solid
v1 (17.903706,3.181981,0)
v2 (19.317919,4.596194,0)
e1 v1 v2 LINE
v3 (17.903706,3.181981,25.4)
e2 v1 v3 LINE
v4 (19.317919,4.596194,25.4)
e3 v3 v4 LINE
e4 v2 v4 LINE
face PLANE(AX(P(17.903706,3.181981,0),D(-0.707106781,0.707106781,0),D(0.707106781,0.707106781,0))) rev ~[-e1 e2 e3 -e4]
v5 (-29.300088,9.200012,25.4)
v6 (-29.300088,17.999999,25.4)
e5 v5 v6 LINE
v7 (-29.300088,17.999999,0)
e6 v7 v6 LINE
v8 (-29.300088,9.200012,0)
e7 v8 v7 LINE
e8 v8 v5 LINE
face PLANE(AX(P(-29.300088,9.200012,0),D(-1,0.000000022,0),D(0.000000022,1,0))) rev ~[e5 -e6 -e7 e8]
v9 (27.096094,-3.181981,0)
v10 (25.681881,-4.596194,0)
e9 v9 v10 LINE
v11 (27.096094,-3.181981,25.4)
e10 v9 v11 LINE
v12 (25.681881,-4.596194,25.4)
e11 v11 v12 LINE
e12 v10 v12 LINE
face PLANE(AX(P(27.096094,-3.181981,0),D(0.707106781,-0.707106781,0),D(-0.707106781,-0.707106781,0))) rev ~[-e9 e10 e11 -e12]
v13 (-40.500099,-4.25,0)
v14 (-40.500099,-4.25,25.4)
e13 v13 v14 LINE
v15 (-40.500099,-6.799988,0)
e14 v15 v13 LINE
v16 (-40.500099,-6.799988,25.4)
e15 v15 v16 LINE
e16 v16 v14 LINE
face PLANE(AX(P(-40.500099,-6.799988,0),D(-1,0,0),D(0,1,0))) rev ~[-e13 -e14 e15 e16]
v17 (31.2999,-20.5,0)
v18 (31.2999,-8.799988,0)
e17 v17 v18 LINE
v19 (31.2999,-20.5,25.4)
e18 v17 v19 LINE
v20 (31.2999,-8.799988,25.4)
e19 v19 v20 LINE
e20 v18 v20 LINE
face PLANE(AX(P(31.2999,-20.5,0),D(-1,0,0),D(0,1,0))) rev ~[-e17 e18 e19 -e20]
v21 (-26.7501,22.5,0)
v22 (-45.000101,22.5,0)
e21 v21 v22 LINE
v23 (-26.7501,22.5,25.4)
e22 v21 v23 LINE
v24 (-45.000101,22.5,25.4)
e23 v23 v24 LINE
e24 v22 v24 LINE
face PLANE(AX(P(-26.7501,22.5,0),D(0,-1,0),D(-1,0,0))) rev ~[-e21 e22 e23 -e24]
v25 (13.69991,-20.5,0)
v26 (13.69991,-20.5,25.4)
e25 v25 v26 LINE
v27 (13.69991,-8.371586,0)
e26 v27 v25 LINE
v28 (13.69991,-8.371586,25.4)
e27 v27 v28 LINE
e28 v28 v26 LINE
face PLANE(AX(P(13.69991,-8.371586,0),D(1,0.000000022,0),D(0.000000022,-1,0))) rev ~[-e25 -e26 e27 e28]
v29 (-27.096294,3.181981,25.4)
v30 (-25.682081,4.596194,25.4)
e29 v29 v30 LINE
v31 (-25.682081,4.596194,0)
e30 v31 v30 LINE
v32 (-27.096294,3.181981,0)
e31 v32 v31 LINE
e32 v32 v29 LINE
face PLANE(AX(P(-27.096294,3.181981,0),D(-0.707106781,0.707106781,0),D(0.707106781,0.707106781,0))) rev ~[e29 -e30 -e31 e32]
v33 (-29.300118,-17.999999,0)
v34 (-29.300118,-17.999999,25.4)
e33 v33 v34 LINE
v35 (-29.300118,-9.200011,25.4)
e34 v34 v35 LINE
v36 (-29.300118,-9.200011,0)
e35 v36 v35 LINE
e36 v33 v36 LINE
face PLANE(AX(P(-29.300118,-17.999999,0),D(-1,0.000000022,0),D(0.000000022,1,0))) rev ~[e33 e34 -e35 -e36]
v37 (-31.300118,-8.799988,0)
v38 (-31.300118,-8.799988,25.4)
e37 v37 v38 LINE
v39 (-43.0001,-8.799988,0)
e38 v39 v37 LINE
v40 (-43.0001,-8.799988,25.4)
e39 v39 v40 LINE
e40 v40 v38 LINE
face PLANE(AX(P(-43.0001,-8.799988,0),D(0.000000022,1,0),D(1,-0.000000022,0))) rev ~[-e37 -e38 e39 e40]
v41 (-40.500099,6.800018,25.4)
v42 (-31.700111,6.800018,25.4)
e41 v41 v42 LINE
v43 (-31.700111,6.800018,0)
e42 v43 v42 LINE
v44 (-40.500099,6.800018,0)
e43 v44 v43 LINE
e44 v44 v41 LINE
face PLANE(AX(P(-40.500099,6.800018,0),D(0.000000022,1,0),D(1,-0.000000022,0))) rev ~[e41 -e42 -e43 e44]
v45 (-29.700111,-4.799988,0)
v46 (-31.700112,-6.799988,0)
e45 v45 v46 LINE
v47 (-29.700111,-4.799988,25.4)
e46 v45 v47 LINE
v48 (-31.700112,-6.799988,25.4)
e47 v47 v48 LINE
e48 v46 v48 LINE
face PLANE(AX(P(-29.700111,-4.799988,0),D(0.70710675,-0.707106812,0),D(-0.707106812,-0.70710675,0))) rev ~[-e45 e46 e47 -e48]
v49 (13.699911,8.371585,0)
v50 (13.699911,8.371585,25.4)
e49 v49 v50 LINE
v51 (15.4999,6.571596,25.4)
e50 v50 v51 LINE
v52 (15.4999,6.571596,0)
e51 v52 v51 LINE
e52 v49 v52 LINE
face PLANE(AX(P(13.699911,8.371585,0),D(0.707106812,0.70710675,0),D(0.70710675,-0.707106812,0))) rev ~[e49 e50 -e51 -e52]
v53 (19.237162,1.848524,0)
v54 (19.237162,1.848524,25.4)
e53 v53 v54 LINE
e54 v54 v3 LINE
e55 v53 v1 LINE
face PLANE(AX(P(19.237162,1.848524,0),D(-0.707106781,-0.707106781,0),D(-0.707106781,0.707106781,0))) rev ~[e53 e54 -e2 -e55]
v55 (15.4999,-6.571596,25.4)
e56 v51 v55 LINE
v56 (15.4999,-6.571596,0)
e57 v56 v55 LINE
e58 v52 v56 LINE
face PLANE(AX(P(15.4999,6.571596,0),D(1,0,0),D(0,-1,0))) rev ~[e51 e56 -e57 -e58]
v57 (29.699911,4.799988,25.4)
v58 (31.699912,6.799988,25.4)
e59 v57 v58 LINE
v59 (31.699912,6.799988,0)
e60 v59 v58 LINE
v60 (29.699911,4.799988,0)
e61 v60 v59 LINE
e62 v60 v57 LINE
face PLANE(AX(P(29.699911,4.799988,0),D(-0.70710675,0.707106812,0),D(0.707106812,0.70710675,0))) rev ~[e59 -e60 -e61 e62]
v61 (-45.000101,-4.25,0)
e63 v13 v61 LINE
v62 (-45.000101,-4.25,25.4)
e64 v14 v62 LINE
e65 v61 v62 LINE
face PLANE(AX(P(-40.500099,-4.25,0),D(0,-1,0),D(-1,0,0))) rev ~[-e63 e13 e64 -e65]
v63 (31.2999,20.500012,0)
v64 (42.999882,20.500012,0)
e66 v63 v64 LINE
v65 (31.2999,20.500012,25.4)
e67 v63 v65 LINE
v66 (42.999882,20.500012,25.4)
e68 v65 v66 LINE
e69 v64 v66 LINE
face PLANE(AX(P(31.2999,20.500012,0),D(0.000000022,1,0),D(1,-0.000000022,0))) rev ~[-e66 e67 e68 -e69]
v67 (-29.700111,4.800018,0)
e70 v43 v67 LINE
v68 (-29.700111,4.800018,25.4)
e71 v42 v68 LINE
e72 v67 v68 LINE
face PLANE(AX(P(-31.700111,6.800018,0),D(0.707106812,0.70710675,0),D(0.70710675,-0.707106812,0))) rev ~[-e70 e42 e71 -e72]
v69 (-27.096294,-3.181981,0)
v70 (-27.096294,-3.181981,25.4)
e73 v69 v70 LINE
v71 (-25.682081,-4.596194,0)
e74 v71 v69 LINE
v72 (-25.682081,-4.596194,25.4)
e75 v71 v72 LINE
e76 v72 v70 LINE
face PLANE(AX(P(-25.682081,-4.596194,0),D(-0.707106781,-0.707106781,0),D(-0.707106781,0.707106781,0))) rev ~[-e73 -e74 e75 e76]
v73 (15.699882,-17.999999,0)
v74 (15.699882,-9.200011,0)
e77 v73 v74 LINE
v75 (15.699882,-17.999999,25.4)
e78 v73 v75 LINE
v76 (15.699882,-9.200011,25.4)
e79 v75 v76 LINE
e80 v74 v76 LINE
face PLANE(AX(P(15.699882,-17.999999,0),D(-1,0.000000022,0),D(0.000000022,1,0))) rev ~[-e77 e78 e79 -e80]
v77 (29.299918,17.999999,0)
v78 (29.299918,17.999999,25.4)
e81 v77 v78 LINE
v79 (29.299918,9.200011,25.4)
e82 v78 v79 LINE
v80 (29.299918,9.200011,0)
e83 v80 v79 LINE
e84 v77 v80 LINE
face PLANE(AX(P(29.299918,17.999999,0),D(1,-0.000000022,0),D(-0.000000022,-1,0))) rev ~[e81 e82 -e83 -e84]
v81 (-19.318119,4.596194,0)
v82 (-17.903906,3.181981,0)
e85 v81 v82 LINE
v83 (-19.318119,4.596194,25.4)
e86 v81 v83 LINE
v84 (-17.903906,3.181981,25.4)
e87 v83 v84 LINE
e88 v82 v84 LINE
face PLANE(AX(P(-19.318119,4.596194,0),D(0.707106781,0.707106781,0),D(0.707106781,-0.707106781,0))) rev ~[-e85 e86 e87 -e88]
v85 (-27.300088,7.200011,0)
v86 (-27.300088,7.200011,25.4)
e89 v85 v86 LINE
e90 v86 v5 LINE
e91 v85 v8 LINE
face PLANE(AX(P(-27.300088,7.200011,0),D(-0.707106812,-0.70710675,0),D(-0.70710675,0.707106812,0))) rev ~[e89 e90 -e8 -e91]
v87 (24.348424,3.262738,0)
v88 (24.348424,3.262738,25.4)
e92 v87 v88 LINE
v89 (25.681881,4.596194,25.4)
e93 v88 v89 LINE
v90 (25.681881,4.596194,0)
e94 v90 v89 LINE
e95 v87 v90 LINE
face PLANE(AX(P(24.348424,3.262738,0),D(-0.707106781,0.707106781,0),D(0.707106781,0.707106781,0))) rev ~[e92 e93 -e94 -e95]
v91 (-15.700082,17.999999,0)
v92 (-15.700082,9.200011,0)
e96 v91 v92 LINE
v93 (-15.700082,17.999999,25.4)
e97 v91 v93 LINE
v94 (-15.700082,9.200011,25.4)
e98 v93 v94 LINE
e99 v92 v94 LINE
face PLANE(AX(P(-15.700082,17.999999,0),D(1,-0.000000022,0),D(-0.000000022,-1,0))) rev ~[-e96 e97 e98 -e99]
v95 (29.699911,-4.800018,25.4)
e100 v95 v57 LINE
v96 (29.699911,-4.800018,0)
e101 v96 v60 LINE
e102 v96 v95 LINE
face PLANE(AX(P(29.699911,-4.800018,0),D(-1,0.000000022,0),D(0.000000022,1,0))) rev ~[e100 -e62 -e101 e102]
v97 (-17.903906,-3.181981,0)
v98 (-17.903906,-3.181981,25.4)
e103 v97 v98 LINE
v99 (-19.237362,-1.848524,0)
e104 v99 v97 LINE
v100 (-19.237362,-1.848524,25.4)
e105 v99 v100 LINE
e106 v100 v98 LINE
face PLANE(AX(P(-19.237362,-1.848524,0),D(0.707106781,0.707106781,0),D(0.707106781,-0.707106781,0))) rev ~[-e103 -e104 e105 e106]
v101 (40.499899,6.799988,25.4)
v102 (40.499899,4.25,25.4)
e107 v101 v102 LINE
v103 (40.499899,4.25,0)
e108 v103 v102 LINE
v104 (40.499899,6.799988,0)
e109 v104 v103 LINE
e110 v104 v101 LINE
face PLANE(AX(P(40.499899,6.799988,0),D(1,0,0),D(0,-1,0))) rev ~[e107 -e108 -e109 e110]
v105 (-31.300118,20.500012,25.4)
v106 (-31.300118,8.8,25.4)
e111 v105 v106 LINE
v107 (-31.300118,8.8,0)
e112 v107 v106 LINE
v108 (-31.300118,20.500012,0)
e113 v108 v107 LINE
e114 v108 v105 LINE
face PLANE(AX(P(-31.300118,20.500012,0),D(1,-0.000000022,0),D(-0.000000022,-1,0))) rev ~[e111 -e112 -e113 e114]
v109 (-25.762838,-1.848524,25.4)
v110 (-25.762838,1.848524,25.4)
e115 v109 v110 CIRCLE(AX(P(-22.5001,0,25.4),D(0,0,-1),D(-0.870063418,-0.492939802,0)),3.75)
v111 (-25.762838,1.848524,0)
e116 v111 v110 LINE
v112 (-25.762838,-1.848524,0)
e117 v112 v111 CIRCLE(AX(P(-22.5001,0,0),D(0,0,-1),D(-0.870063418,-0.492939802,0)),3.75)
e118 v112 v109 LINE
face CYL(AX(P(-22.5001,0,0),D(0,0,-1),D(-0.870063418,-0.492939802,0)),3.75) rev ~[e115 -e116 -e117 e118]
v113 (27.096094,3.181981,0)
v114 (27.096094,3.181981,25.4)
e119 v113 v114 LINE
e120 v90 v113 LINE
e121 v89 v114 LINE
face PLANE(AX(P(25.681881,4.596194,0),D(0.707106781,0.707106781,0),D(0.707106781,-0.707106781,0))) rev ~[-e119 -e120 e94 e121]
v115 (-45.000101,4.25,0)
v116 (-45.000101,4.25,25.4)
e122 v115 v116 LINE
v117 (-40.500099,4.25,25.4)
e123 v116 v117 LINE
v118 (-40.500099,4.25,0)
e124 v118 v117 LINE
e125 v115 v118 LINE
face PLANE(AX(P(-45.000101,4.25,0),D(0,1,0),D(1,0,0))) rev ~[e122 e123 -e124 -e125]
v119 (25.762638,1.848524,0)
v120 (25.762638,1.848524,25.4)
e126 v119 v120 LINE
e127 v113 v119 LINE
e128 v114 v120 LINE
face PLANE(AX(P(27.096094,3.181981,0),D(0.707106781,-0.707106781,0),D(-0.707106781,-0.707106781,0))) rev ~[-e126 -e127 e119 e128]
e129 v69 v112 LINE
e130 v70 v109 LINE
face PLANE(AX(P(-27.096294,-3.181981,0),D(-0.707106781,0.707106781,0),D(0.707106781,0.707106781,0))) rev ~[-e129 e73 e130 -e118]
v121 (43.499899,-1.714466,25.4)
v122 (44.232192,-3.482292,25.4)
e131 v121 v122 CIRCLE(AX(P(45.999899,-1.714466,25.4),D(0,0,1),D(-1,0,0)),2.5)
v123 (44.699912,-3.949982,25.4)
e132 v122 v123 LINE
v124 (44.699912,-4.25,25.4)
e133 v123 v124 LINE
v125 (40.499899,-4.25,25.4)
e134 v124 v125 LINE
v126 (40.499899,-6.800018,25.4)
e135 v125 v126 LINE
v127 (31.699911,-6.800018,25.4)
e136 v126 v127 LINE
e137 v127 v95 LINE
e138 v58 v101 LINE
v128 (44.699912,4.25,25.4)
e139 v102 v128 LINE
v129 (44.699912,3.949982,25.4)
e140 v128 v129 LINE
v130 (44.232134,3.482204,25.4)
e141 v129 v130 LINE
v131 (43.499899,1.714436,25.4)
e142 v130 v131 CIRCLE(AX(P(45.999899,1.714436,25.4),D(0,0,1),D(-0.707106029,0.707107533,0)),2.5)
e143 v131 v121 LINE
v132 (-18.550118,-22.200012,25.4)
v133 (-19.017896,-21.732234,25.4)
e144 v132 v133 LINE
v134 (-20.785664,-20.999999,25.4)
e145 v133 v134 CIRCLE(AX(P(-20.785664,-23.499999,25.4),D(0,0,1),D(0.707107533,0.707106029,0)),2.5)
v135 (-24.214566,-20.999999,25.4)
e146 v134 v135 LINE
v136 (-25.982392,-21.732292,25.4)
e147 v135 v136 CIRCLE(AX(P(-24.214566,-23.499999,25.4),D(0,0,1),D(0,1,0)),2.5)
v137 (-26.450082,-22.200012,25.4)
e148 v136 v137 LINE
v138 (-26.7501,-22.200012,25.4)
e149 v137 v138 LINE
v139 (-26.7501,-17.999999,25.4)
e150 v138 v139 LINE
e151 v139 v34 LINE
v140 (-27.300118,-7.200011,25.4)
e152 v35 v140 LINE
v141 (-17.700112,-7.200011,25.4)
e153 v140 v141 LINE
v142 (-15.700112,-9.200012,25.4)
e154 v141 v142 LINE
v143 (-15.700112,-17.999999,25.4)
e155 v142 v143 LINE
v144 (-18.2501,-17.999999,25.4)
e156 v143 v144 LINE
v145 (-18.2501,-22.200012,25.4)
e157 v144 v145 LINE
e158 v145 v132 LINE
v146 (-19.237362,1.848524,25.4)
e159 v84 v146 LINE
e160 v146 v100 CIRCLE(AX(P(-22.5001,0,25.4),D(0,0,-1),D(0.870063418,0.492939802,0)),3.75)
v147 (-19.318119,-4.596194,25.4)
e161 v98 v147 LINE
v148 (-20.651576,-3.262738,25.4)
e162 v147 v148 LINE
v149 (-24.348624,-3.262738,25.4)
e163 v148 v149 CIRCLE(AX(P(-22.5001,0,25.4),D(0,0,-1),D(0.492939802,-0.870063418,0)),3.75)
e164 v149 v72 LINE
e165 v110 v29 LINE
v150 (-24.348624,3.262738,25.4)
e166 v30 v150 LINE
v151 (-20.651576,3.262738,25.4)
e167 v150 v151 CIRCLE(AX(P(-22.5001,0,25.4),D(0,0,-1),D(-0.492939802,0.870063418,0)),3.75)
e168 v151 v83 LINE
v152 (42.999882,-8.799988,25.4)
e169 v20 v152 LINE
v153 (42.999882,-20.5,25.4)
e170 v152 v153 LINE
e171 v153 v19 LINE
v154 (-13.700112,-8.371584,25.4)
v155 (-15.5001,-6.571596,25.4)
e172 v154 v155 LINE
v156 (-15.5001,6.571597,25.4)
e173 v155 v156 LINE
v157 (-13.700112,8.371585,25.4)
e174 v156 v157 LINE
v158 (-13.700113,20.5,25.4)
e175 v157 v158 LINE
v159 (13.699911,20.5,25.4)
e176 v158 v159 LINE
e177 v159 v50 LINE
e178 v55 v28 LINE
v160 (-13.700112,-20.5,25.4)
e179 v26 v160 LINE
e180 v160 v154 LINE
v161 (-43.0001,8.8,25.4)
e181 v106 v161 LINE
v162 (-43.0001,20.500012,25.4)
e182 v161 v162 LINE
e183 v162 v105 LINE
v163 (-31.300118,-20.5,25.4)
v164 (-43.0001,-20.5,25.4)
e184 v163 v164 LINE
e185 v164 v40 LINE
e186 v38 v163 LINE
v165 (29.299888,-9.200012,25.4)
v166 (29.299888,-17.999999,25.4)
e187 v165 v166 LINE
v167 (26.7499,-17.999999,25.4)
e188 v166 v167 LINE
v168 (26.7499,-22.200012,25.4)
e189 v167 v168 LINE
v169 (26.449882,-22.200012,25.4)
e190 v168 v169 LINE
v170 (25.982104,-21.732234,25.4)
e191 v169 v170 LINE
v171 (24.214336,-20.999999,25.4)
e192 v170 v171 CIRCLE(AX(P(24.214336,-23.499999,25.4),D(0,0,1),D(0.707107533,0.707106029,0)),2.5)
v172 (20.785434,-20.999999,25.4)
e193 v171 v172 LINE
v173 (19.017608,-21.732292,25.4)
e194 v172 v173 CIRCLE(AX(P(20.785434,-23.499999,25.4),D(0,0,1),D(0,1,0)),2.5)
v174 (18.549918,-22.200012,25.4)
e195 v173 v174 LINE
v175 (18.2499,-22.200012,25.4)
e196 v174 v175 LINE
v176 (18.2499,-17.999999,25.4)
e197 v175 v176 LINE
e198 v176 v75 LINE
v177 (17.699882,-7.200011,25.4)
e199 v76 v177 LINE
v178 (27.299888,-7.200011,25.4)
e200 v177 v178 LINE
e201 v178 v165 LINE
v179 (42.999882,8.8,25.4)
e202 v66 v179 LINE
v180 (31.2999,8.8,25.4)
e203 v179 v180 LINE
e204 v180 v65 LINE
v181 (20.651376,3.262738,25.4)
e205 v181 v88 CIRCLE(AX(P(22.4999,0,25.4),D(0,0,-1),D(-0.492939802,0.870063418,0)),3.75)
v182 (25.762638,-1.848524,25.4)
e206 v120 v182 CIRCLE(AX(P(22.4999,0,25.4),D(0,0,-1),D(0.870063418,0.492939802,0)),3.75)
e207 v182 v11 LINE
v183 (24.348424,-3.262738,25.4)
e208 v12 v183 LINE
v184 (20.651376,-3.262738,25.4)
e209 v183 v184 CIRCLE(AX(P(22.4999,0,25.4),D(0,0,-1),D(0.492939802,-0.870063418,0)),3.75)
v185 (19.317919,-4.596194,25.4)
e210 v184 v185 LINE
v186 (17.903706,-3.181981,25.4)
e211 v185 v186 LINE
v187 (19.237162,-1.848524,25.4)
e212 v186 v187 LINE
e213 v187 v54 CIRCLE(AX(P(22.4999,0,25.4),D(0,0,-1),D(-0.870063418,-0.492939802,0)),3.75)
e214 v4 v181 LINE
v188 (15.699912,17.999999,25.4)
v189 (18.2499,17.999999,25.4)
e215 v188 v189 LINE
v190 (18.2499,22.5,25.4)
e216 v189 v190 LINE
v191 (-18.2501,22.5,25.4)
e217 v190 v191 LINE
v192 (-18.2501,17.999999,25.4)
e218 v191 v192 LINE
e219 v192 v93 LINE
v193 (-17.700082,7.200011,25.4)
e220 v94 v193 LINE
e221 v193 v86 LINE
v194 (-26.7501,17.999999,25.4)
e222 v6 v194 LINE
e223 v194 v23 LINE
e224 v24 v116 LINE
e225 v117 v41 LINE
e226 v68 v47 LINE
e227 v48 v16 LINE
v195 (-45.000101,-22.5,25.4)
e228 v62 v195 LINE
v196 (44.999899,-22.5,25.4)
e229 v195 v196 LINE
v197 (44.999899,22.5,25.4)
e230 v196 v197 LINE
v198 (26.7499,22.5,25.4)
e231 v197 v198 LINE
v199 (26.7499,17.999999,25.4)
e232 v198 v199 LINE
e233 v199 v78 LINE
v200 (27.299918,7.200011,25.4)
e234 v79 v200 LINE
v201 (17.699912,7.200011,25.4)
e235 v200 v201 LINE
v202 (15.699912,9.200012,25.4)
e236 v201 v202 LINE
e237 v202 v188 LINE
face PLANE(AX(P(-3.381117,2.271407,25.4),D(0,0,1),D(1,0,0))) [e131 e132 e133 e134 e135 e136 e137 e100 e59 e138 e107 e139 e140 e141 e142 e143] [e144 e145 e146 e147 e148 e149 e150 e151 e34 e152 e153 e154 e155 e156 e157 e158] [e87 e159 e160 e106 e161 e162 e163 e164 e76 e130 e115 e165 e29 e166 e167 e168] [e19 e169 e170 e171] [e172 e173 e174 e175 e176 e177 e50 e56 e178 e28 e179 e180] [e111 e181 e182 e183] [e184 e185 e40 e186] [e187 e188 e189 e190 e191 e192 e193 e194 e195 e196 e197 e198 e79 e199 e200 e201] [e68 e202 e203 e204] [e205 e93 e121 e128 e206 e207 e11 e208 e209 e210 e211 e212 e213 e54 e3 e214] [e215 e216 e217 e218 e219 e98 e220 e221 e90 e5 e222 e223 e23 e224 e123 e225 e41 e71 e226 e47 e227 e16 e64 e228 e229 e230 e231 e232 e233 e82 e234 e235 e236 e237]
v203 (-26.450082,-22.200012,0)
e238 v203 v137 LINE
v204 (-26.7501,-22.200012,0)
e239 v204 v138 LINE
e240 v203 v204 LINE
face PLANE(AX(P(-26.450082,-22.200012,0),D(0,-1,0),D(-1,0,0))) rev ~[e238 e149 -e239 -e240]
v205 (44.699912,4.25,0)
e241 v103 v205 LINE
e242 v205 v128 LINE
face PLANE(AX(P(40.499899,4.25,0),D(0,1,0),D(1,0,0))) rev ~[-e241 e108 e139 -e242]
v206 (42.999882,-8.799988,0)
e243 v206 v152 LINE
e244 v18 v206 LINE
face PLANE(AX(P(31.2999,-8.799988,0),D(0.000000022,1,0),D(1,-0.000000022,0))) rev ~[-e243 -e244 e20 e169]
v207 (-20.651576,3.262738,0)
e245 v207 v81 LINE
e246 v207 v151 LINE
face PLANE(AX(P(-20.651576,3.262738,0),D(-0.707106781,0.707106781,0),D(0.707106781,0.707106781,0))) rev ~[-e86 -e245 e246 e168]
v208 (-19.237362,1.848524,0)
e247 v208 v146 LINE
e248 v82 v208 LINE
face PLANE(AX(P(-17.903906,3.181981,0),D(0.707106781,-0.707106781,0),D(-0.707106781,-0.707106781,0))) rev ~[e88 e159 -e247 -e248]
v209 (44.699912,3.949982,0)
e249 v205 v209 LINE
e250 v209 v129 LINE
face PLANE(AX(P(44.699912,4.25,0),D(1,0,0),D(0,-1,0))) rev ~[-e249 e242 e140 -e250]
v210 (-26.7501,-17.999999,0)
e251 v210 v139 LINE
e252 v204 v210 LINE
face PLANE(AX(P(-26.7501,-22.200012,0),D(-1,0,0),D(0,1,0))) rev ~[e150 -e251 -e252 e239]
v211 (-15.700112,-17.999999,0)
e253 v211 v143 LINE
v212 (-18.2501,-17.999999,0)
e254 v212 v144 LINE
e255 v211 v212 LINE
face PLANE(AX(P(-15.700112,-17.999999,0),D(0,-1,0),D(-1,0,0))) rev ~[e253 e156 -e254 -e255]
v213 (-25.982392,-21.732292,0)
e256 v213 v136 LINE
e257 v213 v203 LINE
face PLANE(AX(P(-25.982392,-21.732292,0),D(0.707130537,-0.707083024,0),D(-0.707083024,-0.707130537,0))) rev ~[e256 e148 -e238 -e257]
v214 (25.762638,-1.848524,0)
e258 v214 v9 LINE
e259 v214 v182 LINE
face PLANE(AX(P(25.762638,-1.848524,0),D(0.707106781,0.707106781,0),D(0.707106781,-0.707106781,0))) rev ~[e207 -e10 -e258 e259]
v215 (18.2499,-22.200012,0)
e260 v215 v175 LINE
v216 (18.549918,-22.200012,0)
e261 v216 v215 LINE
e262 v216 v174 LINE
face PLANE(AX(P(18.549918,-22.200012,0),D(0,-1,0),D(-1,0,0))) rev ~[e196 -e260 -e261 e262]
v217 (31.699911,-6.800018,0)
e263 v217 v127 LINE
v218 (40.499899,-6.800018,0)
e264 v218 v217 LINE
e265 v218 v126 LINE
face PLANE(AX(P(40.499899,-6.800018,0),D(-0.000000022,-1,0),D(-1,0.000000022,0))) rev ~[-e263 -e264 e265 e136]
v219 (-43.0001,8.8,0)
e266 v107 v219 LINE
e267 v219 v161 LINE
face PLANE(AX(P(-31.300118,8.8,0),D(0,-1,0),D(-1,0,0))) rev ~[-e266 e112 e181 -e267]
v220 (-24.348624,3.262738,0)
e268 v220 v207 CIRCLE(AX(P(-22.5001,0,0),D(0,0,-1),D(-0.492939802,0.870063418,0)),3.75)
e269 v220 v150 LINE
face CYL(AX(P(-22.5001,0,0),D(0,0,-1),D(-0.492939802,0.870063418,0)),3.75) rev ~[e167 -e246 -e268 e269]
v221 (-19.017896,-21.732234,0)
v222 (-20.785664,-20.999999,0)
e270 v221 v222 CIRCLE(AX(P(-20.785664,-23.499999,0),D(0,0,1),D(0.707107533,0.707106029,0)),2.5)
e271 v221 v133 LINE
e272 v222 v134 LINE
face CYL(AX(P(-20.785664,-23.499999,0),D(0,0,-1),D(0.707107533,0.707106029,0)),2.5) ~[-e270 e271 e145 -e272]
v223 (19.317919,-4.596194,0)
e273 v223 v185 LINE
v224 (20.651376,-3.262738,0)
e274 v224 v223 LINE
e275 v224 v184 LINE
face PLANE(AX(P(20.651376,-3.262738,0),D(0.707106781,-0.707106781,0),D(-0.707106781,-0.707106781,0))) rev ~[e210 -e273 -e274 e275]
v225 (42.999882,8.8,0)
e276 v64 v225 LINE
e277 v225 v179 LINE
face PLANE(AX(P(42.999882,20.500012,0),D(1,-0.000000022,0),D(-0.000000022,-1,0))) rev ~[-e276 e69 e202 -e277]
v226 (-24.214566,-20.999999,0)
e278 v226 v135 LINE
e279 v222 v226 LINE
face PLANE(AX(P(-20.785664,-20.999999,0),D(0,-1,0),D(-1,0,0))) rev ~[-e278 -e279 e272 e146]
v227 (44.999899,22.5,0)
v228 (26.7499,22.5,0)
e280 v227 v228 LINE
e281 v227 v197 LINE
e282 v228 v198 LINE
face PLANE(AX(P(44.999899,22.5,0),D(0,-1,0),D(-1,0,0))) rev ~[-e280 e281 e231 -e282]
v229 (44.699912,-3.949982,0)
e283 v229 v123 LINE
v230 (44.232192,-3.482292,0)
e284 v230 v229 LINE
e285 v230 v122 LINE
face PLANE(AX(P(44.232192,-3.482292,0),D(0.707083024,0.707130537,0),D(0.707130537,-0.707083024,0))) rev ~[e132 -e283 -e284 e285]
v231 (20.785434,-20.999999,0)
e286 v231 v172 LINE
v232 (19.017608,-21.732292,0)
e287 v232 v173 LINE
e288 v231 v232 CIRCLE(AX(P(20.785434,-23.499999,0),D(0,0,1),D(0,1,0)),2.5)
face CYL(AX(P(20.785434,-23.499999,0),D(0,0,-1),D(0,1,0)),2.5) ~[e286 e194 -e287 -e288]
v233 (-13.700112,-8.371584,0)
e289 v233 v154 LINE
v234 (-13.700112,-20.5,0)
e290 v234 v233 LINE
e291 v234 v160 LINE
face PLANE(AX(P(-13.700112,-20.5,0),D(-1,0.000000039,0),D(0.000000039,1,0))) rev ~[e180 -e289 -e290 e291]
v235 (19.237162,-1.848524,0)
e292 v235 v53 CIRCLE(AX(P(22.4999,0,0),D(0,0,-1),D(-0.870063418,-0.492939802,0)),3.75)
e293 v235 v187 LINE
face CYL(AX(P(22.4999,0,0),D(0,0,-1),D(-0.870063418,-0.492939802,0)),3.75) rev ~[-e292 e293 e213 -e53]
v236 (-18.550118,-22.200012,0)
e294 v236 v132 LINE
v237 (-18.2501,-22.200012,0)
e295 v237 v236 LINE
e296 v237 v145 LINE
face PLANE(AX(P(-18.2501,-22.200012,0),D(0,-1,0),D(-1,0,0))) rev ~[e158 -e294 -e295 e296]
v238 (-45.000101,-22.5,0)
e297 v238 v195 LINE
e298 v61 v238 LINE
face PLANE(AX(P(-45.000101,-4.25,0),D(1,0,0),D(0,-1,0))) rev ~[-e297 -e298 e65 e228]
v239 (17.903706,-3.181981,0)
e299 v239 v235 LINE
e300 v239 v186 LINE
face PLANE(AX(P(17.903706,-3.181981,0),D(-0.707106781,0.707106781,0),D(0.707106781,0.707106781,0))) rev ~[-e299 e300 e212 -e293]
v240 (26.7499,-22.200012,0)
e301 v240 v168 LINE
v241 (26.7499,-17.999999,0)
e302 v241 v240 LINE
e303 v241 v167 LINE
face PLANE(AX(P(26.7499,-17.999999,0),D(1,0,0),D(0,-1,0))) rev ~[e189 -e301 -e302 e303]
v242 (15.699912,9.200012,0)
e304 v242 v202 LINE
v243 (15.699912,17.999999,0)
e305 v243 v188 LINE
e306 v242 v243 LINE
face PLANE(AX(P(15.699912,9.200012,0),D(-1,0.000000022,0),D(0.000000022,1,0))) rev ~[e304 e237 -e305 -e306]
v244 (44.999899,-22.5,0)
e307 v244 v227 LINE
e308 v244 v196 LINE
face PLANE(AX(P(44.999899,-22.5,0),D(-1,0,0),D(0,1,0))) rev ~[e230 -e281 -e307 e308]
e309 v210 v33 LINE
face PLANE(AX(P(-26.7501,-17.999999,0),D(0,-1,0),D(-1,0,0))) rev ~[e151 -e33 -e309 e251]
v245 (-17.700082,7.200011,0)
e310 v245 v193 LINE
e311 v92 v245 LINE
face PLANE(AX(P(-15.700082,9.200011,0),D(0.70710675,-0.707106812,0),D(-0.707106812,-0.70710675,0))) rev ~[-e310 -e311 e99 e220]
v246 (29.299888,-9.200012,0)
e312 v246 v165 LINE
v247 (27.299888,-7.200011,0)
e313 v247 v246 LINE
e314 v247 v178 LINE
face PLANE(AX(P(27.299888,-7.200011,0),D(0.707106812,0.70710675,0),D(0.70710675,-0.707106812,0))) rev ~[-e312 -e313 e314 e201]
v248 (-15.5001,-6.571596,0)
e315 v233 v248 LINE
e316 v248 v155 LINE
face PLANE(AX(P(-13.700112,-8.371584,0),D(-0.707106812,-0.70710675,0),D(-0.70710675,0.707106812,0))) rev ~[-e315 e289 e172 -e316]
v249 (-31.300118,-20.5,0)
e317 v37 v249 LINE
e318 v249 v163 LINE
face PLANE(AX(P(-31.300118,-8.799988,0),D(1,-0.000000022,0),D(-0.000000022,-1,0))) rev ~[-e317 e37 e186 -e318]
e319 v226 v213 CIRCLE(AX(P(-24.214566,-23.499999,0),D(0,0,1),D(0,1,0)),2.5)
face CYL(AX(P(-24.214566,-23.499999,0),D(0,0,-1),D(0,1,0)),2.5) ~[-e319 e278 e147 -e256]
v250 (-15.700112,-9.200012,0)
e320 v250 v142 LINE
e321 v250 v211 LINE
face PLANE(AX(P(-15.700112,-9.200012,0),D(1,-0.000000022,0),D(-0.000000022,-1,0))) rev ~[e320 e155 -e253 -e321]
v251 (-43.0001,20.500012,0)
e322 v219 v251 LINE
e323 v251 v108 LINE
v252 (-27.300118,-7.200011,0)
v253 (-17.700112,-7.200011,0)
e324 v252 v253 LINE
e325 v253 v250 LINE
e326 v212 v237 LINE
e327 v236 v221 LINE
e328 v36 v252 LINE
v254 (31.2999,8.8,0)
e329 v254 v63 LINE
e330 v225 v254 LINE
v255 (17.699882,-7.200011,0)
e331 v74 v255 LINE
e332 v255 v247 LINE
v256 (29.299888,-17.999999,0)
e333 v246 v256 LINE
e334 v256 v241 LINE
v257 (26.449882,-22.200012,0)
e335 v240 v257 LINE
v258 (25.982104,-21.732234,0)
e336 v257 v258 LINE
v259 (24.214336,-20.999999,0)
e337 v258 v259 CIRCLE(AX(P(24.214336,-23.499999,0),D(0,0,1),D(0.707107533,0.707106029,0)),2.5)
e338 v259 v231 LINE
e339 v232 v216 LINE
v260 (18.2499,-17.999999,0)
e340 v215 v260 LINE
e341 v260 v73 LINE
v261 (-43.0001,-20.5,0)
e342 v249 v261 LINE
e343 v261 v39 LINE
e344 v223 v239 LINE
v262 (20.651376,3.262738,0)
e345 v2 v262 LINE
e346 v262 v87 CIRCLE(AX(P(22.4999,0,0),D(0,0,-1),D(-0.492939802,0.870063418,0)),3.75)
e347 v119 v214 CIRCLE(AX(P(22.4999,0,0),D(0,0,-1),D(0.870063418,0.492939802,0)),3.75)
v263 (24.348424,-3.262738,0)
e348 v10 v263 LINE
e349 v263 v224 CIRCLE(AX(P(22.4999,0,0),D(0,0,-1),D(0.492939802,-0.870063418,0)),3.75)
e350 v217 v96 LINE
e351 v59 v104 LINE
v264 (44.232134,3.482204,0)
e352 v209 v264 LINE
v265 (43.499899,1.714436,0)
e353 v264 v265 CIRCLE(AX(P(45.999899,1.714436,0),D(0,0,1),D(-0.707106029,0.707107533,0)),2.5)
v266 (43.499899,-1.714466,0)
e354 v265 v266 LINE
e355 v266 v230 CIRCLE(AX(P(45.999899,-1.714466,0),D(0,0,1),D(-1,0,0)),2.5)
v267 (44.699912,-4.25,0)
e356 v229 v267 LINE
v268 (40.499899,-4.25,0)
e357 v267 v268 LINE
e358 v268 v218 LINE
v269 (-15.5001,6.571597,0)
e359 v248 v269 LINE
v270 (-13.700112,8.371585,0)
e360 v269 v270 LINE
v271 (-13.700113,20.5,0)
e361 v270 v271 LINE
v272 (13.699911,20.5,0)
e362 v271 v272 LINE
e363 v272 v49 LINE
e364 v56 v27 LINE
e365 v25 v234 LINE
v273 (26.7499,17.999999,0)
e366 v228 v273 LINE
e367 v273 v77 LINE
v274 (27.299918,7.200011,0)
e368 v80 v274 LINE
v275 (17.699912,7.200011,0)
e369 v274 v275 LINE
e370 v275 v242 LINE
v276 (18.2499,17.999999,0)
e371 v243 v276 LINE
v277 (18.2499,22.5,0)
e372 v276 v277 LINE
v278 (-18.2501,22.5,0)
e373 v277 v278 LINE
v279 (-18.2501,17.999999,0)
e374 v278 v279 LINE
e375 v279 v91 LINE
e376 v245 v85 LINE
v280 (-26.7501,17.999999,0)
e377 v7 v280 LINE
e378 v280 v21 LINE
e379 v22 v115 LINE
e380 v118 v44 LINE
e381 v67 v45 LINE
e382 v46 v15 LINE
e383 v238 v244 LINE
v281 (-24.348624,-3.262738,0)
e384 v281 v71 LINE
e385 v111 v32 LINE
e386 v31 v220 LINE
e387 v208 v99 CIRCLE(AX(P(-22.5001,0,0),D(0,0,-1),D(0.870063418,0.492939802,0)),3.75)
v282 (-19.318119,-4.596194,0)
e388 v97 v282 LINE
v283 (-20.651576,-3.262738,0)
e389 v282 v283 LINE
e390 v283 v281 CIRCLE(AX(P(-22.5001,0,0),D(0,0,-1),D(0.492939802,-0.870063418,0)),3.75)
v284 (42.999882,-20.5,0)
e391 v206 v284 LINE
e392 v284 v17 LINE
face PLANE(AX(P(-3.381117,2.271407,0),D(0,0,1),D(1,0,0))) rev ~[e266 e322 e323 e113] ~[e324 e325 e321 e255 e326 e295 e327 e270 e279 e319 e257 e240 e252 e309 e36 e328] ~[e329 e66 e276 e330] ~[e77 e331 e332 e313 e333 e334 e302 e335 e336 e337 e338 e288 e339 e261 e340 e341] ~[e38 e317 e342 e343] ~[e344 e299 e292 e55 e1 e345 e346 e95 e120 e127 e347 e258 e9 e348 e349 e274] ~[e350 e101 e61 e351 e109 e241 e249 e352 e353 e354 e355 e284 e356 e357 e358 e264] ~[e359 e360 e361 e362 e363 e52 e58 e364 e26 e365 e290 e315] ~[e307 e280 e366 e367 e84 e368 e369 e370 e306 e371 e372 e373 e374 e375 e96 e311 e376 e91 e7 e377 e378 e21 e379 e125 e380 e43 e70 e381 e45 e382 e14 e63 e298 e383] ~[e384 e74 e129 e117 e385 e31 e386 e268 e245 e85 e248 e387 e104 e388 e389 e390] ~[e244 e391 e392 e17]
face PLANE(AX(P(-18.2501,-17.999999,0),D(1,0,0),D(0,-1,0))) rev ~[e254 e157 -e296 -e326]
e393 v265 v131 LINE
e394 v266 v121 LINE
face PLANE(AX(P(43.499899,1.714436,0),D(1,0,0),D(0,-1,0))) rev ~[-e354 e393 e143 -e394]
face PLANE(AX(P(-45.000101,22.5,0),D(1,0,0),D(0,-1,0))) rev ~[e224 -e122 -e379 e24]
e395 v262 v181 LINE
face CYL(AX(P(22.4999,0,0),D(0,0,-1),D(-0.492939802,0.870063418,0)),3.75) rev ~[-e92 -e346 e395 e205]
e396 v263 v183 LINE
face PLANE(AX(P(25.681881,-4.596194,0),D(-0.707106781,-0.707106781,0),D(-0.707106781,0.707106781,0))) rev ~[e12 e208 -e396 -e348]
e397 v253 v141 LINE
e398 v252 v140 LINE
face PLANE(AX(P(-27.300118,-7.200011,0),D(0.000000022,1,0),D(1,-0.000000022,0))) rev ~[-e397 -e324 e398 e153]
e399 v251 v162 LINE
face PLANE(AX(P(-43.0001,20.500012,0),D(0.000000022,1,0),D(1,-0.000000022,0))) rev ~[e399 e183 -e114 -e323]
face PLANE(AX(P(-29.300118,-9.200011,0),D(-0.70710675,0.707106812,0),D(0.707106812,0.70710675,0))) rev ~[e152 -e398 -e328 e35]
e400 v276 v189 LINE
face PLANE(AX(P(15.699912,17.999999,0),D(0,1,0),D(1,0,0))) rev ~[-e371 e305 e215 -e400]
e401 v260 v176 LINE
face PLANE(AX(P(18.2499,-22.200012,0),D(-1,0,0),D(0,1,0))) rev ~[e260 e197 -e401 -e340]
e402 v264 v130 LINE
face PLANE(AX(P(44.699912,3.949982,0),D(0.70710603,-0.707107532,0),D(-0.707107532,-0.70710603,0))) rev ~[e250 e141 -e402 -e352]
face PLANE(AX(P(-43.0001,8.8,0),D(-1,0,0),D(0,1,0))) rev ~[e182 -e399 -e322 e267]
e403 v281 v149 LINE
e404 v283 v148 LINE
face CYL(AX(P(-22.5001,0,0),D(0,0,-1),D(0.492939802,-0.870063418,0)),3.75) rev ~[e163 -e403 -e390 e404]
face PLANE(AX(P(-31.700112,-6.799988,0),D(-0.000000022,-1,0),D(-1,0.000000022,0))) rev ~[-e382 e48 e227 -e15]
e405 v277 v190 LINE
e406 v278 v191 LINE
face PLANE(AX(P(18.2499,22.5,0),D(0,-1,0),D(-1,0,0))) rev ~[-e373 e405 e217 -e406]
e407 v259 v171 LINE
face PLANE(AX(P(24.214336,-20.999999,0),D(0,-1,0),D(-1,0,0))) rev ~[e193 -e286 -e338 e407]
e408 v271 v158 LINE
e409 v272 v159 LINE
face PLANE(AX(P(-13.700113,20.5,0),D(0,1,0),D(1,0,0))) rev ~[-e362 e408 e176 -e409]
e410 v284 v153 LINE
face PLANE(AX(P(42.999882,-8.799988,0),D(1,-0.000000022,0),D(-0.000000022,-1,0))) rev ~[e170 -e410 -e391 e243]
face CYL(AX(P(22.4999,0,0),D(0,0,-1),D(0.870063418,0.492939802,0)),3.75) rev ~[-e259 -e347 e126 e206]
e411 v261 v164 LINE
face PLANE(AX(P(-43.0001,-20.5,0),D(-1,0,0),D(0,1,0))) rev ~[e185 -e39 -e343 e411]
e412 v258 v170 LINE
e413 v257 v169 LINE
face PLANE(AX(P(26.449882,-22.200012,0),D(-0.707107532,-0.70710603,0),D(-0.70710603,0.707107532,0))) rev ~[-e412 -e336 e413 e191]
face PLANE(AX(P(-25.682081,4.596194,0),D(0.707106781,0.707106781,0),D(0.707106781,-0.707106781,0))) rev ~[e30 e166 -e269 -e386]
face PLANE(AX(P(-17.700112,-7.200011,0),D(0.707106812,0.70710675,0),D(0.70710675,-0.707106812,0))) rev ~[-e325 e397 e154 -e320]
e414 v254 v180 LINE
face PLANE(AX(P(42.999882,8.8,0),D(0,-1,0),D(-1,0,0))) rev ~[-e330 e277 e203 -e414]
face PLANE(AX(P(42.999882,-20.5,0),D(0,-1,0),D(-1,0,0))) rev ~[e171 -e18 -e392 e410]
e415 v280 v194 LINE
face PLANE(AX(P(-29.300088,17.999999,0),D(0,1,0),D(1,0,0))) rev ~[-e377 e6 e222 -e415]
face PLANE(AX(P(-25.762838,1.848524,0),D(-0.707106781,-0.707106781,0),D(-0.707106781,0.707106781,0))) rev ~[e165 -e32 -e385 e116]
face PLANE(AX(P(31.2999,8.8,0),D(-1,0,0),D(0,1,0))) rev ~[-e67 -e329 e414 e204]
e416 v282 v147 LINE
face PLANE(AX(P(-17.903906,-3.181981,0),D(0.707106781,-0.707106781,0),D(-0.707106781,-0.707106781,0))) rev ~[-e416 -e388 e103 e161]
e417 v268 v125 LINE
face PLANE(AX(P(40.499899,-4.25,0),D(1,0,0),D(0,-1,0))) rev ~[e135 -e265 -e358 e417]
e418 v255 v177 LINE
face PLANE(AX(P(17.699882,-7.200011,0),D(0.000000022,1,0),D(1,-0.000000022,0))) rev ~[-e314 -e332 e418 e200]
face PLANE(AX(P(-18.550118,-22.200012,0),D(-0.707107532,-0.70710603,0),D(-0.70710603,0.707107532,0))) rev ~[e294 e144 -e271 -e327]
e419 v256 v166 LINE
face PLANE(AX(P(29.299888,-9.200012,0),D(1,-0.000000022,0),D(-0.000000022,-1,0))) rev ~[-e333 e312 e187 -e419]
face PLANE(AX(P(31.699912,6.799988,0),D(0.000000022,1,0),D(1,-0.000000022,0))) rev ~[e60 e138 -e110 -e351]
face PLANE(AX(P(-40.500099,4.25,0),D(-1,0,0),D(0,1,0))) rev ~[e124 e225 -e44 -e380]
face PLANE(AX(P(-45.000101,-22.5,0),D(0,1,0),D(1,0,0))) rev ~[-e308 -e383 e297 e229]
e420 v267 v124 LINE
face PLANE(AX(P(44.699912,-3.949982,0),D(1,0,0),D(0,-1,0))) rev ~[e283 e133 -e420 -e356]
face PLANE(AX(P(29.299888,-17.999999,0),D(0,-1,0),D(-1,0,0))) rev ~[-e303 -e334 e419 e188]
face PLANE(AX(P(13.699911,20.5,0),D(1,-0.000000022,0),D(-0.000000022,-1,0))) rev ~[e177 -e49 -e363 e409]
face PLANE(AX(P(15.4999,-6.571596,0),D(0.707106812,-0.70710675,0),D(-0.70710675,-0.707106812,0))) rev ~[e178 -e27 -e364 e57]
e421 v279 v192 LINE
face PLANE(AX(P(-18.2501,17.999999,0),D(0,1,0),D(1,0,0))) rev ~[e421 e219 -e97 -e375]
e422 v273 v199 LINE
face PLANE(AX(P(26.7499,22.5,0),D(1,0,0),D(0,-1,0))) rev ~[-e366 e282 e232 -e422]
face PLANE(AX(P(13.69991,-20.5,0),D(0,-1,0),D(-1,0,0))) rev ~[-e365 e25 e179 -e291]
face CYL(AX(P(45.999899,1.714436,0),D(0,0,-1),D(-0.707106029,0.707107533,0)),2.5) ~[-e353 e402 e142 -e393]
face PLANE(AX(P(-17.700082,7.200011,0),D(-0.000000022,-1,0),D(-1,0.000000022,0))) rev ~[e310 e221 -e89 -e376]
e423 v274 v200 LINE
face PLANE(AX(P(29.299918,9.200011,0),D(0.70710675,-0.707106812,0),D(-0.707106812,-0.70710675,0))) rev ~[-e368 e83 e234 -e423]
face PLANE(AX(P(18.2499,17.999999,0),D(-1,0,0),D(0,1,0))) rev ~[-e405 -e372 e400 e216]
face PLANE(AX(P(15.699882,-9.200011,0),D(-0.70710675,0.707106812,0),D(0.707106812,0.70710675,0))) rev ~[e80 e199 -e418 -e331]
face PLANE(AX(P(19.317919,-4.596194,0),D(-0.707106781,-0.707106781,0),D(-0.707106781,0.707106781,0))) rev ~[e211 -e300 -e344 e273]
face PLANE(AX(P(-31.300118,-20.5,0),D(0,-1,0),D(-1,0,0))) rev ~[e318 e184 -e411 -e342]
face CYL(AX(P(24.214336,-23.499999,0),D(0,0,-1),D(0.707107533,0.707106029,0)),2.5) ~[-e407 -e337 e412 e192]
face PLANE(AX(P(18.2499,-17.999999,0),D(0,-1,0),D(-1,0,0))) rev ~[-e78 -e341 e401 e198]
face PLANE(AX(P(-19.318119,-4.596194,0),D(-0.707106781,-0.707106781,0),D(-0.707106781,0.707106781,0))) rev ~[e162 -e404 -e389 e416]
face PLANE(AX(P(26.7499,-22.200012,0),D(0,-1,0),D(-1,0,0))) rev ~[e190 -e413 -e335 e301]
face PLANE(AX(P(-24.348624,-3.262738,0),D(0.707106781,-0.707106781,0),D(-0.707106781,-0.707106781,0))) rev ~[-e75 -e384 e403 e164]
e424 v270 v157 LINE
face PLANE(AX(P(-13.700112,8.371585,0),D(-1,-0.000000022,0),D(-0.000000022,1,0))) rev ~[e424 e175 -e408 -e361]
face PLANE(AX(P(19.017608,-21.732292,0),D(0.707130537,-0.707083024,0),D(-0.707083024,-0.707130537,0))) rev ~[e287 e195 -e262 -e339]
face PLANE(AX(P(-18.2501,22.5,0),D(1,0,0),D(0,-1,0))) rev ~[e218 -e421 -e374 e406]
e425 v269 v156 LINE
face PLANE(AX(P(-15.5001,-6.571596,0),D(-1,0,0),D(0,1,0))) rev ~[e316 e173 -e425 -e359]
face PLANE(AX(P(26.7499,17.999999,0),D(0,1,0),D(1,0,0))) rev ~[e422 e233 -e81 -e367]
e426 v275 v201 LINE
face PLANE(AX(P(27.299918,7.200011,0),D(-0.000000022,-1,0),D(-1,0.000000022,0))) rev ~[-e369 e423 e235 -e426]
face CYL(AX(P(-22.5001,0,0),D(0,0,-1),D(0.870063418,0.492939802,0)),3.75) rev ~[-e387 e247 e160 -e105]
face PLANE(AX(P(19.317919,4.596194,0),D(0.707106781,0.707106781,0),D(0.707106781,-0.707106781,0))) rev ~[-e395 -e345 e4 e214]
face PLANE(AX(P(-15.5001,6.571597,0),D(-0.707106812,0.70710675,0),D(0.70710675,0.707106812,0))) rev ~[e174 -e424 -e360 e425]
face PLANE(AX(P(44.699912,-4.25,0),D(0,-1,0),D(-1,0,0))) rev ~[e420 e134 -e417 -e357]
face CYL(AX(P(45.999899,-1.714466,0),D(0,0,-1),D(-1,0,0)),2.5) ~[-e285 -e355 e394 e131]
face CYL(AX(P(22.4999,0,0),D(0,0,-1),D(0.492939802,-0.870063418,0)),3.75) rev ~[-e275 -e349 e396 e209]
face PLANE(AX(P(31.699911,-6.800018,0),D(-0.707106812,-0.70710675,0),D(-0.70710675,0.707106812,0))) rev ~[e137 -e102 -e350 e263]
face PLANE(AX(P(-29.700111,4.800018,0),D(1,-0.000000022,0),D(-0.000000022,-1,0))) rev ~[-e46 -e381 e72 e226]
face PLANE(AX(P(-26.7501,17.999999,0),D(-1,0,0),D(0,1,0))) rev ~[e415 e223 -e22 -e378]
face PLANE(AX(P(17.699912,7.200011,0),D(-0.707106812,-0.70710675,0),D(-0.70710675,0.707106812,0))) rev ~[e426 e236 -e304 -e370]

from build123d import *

# Parameters (mm, degrees)
BOSS_EXTRUDE1_DEPTH = 25.4


with BuildPart() as part:
    # Sketch1 → Boss-Extrude1 (new body)
    with BuildSketch(Plane.XY):
        Polygon((-45.000100804, -22.499999999), (44.999899202, -22.499999999), (44.999899202, 22.5), (26.749899972, 22.5), (26.749899972, 17.999999372), (29.299918194, 17.999999372), (29.299918002, 9.200011166), (27.299917722, 7.200011061), (17.699911829, 7.200011271), (15.699911706, 9.200011568), (15.699911899, 17.999999102), (18.249899884, 17.999999102), (18.249899884, 22.5), (-18.250100028, 22.5), (-18.250100028, 17.999999372), (-15.700081806, 17.999999372), (-15.700081998, 9.200011166), (-17.700082278, 7.200011061), (-27.300088171, 7.200011271), (-29.300088294, 9.200011568), (-29.300088101, 17.999999102), (-26.750100116, 17.999999102), (-26.750100116, 22.5), (-45.000100804, 22.5), (-45.000100804, 4.250000064), (-40.500099403, 4.250000064), (-40.500099403, 6.800018286), (-31.700111197, 6.800018094), (-29.700111092, 4.800017814), (-29.700111302, -4.79998808), (-31.700111599, -6.799988202), (-40.500099133, -6.79998801), (-40.500099133, -4.250000024), (-45.000100804, -4.250000024), align=None)
        with BuildLine():
            Line((19.237162182, 1.848524255), (17.903705922, 3.181980515))
            Line((17.903705922, 3.181980515), (19.317919485, 4.596194078))
            Line((19.317919485, 4.596194078), (20.651375745, 3.262737818))
            ThreePointArc((20.651375745, 3.262737818), (22.4999, 3.749999999), (24.348424255, 3.262737818))
            Line((24.348424255, 3.262737818), (25.681880515, 4.596194078))
            Line((25.681880515, 4.596194078), (27.096094078, 3.181980515))
            Line((27.096094078, 3.181980515), (25.762637818, 1.848524255))
            ThreePointArc((25.762637818, 1.848524255), (26.249899999, 0), (25.762637818, -1.848524255))
            Line((25.762637818, -1.848524255), (27.096094078, -3.181980515))
            Line((27.096094078, -3.181980515), (25.681880515, -4.596194078))
            Line((25.681880515, -4.596194078), (24.348424255, -3.262737818))
            ThreePointArc((24.348424255, -3.262737818), (22.4999, -3.749999999), (20.651375745, -3.262737818))
            Line((20.651375745, -3.262737818), (19.317919483, -4.596194079))
            Line((19.317919483, -4.596194079), (17.90370592, -3.181980517))
            Line((17.90370592, -3.181980517), (19.237162182, -1.848524255))
            ThreePointArc((19.237162182, -1.848524255), (18.749900001, 0), (19.237162182, 1.848524255))
        make_face(mode=Mode.SUBTRACT)
        with BuildLine():
            Line((-25.682080517, -4.596194079), (-27.09629408, -3.181980517))
            Line((-27.09629408, -3.181980517), (-25.762837818, -1.848524255))
            ThreePointArc((-25.762837818, -1.848524255), (-26.250099999, 0), (-25.762837818, 1.848524255))
            Line((-25.762837818, 1.848524255), (-27.096294078, 3.181980515))
            Line((-27.096294078, 3.181980515), (-25.682080515, 4.596194078))
            Line((-25.682080515, 4.596194078), (-24.348624255, 3.262737818))
            ThreePointArc((-24.348624255, 3.262737818), (-22.5001, 3.749999999), (-20.651575745, 3.262737818))
            Line((-20.651575745, 3.262737818), (-19.318119485, 4.596194078))
            Line((-19.318119485, 4.596194078), (-17.903905922, 3.181980515))
            Line((-17.903905922, 3.181980515), (-19.237362182, 1.848524255))
            ThreePointArc((-19.237362182, 1.848524255), (-18.750100001, 0), (-19.237362182, -1.848524255))
            Line((-19.237362182, -1.848524255), (-17.903905922, -3.181980515))
            Line((-17.903905922, -3.181980515), (-19.318119485, -4.596194078))
            Line((-19.318119485, -4.596194078), (-20.651575745, -3.262737818))
            ThreePointArc((-20.651575745, -3.262737818), (-22.5001, -3.749999999), (-24.348624255, -3.262737818))
            Line((-24.348624255, -3.262737818), (-25.682080517, -4.596194079))
        make_face(mode=Mode.SUBTRACT)
        Polygon((42.999881918, 20.500011944), (42.999881663, 8.8), (31.299899711, 8.8), (31.299899711, 20.5000122), align=None, mode=Mode.SUBTRACT)
        Polygon((42.999881952, -20.5), (31.2999, -20.5), (31.2999, -8.7999878), (42.999882208, -8.799988056), align=None, mode=Mode.SUBTRACT)
        Polygon((-31.300117792, -8.799988056), (-31.300118048, -20.5), (-43.0001, -20.5), (-43.0001, -8.7999878), align=None, mode=Mode.SUBTRACT)
        Polygon((-31.300118048, 8.8), (-43.0001, 8.8), (-43.0001, 20.5000122), (-31.300117792, 20.500011944), align=None, mode=Mode.SUBTRACT)
        with BuildLine():
            Line((-26.750099976, -22.200012315), (-26.750099976, -17.999999113))
            Line((-26.750099976, -17.999999113), (-29.300118194, -17.999999113))
            Line((-29.300118194, -17.999999113), (-29.300118002, -9.200011166))
            Line((-29.300118002, -9.200011166), (-27.300117722, -7.200011061))
            Line((-27.300117722, -7.200011061), (-17.700111829, -7.200011271))
            Line((-17.700111829, -7.200011271), (-15.700111706, -9.200011568))
            Line((-15.700111706, -9.200011568), (-15.700111899, -17.999998844))
            Line((-15.700111899, -17.999998844), (-18.250099887, -17.999998844))
            Line((-18.250099887, -17.999998844), (-18.250099887, -22.20001241))
            Line((-18.250099887, -22.20001241), (-18.550118283, -22.20001241))
            Line((-18.550118283, -22.20001241), (-19.017895639, -21.73223406))
            ThreePointArc((-19.017895639, -21.73223406), (-19.828954662, -21.190300811), (-20.785664471, -20.999999134))
            Line((-20.785664471, -20.999999134), (-24.214566009, -20.999999134))
            ThreePointArc((-24.214566009, -20.999999134), (-25.171313387, -21.190316374), (-25.982392349, -21.732291572))
            Line((-25.982392349, -21.732291572), (-26.450081665, -22.200012315))
            Line((-26.450081665, -22.200012315), (-26.750099976, -22.200012315))
        make_face(mode=Mode.SUBTRACT)
        with BuildLine():
            Line((18.249900024, -22.200012315), (18.249900024, -17.999999113))
            Line((18.249900024, -17.999999113), (15.699881806, -17.999999113))
            Line((15.699881806, -17.999999113), (15.699881998, -9.200011166))
            Line((15.699881998, -9.200011166), (17.699882278, -7.200011061))
            Line((17.699882278, -7.200011061), (27.299888171, -7.200011271))
            Line((27.299888171, -7.200011271), (29.299888294, -9.200011568))
            Line((29.299888294, -9.200011568), (29.299888101, -17.999998844))
            Line((29.299888101, -17.999998844), (26.749900113, -17.999998844))
            Line((26.749900113, -17.999998844), (26.749900113, -22.20001241))
            Line((26.749900113, -22.20001241), (26.449881717, -22.20001241))
            Line((26.449881717, -22.20001241), (25.982104361, -21.73223406))
            ThreePointArc((25.982104361, -21.73223406), (25.171045338, -21.190300811), (24.214335529, -20.999999134))
            Line((24.214335529, -20.999999134), (20.785433991, -20.999999134))
            ThreePointArc((20.785433991, -20.999999134), (19.828686613, -21.190316374), (19.017607651, -21.732291572))
            Line((19.017607651, -21.732291572), (18.549918335, -22.200012315))
            Line((18.549918335, -22.200012315), (18.249900024, -22.200012315))
        make_face(mode=Mode.SUBTRACT)
        with BuildLine():
            Line((31.699911166, -6.800018002), (29.699911061, -4.800017722))
            Line((29.699911061, -4.800017722), (29.699911271, 4.799988171))
            Line((29.699911271, 4.799988171), (31.699911568, 6.799988294))
            Line((31.699911568, 6.799988294), (40.499898813, 6.799988101))
            Line((40.499898813, 6.799988101), (40.499898813, 4.250000116))
            Line((40.499898813, 4.250000116), (44.69991241, 4.250000116))
            Line((44.69991241, 4.250000116), (44.69991241, 3.949981717))
            Line((44.69991241, 3.949981717), (44.23213406, 3.482204361))
            ThreePointArc((44.23213406, 3.482204361), (43.690200811, 2.671145338), (43.499899134, 1.714435529))
            Line((43.499899134, 1.714435529), (43.499899134, -1.714466009))
            ThreePointArc((43.499899134, -1.714466009), (43.690216374, -2.671213387), (44.232191572, -3.482292349))
            Line((44.232191572, -3.482292349), (44.699912315, -3.949981665))
            Line((44.699912315, -3.949981665), (44.699912315, -4.249999976))
            Line((44.699912315, -4.249999976), (40.499899113, -4.249999976))
            Line((40.499899113, -4.249999976), (40.499899113, -6.800018194))
            Line((40.499899113, -6.800018194), (31.699911166, -6.800018002))
        make_face(mode=Mode.SUBTRACT)
        Polygon((13.699911396, 20.5), (13.699911131, 8.37158507), (15.4999, 6.571596043), (15.4999, -6.571596043), (13.699910134, -8.371586067), (13.699910399, -20.5), (-13.7001122, -20.5), (-13.700111724, -8.371584476), (-15.5001, -6.571596043), (-15.5001, 6.571596848), (-13.700112474, 8.371584531), (-13.700112739, 20.5), align=None, mode=Mode.SUBTRACT)
    extrude(amount=BOSS_EXTRUDE1_DEPTH)


solid = part.part
